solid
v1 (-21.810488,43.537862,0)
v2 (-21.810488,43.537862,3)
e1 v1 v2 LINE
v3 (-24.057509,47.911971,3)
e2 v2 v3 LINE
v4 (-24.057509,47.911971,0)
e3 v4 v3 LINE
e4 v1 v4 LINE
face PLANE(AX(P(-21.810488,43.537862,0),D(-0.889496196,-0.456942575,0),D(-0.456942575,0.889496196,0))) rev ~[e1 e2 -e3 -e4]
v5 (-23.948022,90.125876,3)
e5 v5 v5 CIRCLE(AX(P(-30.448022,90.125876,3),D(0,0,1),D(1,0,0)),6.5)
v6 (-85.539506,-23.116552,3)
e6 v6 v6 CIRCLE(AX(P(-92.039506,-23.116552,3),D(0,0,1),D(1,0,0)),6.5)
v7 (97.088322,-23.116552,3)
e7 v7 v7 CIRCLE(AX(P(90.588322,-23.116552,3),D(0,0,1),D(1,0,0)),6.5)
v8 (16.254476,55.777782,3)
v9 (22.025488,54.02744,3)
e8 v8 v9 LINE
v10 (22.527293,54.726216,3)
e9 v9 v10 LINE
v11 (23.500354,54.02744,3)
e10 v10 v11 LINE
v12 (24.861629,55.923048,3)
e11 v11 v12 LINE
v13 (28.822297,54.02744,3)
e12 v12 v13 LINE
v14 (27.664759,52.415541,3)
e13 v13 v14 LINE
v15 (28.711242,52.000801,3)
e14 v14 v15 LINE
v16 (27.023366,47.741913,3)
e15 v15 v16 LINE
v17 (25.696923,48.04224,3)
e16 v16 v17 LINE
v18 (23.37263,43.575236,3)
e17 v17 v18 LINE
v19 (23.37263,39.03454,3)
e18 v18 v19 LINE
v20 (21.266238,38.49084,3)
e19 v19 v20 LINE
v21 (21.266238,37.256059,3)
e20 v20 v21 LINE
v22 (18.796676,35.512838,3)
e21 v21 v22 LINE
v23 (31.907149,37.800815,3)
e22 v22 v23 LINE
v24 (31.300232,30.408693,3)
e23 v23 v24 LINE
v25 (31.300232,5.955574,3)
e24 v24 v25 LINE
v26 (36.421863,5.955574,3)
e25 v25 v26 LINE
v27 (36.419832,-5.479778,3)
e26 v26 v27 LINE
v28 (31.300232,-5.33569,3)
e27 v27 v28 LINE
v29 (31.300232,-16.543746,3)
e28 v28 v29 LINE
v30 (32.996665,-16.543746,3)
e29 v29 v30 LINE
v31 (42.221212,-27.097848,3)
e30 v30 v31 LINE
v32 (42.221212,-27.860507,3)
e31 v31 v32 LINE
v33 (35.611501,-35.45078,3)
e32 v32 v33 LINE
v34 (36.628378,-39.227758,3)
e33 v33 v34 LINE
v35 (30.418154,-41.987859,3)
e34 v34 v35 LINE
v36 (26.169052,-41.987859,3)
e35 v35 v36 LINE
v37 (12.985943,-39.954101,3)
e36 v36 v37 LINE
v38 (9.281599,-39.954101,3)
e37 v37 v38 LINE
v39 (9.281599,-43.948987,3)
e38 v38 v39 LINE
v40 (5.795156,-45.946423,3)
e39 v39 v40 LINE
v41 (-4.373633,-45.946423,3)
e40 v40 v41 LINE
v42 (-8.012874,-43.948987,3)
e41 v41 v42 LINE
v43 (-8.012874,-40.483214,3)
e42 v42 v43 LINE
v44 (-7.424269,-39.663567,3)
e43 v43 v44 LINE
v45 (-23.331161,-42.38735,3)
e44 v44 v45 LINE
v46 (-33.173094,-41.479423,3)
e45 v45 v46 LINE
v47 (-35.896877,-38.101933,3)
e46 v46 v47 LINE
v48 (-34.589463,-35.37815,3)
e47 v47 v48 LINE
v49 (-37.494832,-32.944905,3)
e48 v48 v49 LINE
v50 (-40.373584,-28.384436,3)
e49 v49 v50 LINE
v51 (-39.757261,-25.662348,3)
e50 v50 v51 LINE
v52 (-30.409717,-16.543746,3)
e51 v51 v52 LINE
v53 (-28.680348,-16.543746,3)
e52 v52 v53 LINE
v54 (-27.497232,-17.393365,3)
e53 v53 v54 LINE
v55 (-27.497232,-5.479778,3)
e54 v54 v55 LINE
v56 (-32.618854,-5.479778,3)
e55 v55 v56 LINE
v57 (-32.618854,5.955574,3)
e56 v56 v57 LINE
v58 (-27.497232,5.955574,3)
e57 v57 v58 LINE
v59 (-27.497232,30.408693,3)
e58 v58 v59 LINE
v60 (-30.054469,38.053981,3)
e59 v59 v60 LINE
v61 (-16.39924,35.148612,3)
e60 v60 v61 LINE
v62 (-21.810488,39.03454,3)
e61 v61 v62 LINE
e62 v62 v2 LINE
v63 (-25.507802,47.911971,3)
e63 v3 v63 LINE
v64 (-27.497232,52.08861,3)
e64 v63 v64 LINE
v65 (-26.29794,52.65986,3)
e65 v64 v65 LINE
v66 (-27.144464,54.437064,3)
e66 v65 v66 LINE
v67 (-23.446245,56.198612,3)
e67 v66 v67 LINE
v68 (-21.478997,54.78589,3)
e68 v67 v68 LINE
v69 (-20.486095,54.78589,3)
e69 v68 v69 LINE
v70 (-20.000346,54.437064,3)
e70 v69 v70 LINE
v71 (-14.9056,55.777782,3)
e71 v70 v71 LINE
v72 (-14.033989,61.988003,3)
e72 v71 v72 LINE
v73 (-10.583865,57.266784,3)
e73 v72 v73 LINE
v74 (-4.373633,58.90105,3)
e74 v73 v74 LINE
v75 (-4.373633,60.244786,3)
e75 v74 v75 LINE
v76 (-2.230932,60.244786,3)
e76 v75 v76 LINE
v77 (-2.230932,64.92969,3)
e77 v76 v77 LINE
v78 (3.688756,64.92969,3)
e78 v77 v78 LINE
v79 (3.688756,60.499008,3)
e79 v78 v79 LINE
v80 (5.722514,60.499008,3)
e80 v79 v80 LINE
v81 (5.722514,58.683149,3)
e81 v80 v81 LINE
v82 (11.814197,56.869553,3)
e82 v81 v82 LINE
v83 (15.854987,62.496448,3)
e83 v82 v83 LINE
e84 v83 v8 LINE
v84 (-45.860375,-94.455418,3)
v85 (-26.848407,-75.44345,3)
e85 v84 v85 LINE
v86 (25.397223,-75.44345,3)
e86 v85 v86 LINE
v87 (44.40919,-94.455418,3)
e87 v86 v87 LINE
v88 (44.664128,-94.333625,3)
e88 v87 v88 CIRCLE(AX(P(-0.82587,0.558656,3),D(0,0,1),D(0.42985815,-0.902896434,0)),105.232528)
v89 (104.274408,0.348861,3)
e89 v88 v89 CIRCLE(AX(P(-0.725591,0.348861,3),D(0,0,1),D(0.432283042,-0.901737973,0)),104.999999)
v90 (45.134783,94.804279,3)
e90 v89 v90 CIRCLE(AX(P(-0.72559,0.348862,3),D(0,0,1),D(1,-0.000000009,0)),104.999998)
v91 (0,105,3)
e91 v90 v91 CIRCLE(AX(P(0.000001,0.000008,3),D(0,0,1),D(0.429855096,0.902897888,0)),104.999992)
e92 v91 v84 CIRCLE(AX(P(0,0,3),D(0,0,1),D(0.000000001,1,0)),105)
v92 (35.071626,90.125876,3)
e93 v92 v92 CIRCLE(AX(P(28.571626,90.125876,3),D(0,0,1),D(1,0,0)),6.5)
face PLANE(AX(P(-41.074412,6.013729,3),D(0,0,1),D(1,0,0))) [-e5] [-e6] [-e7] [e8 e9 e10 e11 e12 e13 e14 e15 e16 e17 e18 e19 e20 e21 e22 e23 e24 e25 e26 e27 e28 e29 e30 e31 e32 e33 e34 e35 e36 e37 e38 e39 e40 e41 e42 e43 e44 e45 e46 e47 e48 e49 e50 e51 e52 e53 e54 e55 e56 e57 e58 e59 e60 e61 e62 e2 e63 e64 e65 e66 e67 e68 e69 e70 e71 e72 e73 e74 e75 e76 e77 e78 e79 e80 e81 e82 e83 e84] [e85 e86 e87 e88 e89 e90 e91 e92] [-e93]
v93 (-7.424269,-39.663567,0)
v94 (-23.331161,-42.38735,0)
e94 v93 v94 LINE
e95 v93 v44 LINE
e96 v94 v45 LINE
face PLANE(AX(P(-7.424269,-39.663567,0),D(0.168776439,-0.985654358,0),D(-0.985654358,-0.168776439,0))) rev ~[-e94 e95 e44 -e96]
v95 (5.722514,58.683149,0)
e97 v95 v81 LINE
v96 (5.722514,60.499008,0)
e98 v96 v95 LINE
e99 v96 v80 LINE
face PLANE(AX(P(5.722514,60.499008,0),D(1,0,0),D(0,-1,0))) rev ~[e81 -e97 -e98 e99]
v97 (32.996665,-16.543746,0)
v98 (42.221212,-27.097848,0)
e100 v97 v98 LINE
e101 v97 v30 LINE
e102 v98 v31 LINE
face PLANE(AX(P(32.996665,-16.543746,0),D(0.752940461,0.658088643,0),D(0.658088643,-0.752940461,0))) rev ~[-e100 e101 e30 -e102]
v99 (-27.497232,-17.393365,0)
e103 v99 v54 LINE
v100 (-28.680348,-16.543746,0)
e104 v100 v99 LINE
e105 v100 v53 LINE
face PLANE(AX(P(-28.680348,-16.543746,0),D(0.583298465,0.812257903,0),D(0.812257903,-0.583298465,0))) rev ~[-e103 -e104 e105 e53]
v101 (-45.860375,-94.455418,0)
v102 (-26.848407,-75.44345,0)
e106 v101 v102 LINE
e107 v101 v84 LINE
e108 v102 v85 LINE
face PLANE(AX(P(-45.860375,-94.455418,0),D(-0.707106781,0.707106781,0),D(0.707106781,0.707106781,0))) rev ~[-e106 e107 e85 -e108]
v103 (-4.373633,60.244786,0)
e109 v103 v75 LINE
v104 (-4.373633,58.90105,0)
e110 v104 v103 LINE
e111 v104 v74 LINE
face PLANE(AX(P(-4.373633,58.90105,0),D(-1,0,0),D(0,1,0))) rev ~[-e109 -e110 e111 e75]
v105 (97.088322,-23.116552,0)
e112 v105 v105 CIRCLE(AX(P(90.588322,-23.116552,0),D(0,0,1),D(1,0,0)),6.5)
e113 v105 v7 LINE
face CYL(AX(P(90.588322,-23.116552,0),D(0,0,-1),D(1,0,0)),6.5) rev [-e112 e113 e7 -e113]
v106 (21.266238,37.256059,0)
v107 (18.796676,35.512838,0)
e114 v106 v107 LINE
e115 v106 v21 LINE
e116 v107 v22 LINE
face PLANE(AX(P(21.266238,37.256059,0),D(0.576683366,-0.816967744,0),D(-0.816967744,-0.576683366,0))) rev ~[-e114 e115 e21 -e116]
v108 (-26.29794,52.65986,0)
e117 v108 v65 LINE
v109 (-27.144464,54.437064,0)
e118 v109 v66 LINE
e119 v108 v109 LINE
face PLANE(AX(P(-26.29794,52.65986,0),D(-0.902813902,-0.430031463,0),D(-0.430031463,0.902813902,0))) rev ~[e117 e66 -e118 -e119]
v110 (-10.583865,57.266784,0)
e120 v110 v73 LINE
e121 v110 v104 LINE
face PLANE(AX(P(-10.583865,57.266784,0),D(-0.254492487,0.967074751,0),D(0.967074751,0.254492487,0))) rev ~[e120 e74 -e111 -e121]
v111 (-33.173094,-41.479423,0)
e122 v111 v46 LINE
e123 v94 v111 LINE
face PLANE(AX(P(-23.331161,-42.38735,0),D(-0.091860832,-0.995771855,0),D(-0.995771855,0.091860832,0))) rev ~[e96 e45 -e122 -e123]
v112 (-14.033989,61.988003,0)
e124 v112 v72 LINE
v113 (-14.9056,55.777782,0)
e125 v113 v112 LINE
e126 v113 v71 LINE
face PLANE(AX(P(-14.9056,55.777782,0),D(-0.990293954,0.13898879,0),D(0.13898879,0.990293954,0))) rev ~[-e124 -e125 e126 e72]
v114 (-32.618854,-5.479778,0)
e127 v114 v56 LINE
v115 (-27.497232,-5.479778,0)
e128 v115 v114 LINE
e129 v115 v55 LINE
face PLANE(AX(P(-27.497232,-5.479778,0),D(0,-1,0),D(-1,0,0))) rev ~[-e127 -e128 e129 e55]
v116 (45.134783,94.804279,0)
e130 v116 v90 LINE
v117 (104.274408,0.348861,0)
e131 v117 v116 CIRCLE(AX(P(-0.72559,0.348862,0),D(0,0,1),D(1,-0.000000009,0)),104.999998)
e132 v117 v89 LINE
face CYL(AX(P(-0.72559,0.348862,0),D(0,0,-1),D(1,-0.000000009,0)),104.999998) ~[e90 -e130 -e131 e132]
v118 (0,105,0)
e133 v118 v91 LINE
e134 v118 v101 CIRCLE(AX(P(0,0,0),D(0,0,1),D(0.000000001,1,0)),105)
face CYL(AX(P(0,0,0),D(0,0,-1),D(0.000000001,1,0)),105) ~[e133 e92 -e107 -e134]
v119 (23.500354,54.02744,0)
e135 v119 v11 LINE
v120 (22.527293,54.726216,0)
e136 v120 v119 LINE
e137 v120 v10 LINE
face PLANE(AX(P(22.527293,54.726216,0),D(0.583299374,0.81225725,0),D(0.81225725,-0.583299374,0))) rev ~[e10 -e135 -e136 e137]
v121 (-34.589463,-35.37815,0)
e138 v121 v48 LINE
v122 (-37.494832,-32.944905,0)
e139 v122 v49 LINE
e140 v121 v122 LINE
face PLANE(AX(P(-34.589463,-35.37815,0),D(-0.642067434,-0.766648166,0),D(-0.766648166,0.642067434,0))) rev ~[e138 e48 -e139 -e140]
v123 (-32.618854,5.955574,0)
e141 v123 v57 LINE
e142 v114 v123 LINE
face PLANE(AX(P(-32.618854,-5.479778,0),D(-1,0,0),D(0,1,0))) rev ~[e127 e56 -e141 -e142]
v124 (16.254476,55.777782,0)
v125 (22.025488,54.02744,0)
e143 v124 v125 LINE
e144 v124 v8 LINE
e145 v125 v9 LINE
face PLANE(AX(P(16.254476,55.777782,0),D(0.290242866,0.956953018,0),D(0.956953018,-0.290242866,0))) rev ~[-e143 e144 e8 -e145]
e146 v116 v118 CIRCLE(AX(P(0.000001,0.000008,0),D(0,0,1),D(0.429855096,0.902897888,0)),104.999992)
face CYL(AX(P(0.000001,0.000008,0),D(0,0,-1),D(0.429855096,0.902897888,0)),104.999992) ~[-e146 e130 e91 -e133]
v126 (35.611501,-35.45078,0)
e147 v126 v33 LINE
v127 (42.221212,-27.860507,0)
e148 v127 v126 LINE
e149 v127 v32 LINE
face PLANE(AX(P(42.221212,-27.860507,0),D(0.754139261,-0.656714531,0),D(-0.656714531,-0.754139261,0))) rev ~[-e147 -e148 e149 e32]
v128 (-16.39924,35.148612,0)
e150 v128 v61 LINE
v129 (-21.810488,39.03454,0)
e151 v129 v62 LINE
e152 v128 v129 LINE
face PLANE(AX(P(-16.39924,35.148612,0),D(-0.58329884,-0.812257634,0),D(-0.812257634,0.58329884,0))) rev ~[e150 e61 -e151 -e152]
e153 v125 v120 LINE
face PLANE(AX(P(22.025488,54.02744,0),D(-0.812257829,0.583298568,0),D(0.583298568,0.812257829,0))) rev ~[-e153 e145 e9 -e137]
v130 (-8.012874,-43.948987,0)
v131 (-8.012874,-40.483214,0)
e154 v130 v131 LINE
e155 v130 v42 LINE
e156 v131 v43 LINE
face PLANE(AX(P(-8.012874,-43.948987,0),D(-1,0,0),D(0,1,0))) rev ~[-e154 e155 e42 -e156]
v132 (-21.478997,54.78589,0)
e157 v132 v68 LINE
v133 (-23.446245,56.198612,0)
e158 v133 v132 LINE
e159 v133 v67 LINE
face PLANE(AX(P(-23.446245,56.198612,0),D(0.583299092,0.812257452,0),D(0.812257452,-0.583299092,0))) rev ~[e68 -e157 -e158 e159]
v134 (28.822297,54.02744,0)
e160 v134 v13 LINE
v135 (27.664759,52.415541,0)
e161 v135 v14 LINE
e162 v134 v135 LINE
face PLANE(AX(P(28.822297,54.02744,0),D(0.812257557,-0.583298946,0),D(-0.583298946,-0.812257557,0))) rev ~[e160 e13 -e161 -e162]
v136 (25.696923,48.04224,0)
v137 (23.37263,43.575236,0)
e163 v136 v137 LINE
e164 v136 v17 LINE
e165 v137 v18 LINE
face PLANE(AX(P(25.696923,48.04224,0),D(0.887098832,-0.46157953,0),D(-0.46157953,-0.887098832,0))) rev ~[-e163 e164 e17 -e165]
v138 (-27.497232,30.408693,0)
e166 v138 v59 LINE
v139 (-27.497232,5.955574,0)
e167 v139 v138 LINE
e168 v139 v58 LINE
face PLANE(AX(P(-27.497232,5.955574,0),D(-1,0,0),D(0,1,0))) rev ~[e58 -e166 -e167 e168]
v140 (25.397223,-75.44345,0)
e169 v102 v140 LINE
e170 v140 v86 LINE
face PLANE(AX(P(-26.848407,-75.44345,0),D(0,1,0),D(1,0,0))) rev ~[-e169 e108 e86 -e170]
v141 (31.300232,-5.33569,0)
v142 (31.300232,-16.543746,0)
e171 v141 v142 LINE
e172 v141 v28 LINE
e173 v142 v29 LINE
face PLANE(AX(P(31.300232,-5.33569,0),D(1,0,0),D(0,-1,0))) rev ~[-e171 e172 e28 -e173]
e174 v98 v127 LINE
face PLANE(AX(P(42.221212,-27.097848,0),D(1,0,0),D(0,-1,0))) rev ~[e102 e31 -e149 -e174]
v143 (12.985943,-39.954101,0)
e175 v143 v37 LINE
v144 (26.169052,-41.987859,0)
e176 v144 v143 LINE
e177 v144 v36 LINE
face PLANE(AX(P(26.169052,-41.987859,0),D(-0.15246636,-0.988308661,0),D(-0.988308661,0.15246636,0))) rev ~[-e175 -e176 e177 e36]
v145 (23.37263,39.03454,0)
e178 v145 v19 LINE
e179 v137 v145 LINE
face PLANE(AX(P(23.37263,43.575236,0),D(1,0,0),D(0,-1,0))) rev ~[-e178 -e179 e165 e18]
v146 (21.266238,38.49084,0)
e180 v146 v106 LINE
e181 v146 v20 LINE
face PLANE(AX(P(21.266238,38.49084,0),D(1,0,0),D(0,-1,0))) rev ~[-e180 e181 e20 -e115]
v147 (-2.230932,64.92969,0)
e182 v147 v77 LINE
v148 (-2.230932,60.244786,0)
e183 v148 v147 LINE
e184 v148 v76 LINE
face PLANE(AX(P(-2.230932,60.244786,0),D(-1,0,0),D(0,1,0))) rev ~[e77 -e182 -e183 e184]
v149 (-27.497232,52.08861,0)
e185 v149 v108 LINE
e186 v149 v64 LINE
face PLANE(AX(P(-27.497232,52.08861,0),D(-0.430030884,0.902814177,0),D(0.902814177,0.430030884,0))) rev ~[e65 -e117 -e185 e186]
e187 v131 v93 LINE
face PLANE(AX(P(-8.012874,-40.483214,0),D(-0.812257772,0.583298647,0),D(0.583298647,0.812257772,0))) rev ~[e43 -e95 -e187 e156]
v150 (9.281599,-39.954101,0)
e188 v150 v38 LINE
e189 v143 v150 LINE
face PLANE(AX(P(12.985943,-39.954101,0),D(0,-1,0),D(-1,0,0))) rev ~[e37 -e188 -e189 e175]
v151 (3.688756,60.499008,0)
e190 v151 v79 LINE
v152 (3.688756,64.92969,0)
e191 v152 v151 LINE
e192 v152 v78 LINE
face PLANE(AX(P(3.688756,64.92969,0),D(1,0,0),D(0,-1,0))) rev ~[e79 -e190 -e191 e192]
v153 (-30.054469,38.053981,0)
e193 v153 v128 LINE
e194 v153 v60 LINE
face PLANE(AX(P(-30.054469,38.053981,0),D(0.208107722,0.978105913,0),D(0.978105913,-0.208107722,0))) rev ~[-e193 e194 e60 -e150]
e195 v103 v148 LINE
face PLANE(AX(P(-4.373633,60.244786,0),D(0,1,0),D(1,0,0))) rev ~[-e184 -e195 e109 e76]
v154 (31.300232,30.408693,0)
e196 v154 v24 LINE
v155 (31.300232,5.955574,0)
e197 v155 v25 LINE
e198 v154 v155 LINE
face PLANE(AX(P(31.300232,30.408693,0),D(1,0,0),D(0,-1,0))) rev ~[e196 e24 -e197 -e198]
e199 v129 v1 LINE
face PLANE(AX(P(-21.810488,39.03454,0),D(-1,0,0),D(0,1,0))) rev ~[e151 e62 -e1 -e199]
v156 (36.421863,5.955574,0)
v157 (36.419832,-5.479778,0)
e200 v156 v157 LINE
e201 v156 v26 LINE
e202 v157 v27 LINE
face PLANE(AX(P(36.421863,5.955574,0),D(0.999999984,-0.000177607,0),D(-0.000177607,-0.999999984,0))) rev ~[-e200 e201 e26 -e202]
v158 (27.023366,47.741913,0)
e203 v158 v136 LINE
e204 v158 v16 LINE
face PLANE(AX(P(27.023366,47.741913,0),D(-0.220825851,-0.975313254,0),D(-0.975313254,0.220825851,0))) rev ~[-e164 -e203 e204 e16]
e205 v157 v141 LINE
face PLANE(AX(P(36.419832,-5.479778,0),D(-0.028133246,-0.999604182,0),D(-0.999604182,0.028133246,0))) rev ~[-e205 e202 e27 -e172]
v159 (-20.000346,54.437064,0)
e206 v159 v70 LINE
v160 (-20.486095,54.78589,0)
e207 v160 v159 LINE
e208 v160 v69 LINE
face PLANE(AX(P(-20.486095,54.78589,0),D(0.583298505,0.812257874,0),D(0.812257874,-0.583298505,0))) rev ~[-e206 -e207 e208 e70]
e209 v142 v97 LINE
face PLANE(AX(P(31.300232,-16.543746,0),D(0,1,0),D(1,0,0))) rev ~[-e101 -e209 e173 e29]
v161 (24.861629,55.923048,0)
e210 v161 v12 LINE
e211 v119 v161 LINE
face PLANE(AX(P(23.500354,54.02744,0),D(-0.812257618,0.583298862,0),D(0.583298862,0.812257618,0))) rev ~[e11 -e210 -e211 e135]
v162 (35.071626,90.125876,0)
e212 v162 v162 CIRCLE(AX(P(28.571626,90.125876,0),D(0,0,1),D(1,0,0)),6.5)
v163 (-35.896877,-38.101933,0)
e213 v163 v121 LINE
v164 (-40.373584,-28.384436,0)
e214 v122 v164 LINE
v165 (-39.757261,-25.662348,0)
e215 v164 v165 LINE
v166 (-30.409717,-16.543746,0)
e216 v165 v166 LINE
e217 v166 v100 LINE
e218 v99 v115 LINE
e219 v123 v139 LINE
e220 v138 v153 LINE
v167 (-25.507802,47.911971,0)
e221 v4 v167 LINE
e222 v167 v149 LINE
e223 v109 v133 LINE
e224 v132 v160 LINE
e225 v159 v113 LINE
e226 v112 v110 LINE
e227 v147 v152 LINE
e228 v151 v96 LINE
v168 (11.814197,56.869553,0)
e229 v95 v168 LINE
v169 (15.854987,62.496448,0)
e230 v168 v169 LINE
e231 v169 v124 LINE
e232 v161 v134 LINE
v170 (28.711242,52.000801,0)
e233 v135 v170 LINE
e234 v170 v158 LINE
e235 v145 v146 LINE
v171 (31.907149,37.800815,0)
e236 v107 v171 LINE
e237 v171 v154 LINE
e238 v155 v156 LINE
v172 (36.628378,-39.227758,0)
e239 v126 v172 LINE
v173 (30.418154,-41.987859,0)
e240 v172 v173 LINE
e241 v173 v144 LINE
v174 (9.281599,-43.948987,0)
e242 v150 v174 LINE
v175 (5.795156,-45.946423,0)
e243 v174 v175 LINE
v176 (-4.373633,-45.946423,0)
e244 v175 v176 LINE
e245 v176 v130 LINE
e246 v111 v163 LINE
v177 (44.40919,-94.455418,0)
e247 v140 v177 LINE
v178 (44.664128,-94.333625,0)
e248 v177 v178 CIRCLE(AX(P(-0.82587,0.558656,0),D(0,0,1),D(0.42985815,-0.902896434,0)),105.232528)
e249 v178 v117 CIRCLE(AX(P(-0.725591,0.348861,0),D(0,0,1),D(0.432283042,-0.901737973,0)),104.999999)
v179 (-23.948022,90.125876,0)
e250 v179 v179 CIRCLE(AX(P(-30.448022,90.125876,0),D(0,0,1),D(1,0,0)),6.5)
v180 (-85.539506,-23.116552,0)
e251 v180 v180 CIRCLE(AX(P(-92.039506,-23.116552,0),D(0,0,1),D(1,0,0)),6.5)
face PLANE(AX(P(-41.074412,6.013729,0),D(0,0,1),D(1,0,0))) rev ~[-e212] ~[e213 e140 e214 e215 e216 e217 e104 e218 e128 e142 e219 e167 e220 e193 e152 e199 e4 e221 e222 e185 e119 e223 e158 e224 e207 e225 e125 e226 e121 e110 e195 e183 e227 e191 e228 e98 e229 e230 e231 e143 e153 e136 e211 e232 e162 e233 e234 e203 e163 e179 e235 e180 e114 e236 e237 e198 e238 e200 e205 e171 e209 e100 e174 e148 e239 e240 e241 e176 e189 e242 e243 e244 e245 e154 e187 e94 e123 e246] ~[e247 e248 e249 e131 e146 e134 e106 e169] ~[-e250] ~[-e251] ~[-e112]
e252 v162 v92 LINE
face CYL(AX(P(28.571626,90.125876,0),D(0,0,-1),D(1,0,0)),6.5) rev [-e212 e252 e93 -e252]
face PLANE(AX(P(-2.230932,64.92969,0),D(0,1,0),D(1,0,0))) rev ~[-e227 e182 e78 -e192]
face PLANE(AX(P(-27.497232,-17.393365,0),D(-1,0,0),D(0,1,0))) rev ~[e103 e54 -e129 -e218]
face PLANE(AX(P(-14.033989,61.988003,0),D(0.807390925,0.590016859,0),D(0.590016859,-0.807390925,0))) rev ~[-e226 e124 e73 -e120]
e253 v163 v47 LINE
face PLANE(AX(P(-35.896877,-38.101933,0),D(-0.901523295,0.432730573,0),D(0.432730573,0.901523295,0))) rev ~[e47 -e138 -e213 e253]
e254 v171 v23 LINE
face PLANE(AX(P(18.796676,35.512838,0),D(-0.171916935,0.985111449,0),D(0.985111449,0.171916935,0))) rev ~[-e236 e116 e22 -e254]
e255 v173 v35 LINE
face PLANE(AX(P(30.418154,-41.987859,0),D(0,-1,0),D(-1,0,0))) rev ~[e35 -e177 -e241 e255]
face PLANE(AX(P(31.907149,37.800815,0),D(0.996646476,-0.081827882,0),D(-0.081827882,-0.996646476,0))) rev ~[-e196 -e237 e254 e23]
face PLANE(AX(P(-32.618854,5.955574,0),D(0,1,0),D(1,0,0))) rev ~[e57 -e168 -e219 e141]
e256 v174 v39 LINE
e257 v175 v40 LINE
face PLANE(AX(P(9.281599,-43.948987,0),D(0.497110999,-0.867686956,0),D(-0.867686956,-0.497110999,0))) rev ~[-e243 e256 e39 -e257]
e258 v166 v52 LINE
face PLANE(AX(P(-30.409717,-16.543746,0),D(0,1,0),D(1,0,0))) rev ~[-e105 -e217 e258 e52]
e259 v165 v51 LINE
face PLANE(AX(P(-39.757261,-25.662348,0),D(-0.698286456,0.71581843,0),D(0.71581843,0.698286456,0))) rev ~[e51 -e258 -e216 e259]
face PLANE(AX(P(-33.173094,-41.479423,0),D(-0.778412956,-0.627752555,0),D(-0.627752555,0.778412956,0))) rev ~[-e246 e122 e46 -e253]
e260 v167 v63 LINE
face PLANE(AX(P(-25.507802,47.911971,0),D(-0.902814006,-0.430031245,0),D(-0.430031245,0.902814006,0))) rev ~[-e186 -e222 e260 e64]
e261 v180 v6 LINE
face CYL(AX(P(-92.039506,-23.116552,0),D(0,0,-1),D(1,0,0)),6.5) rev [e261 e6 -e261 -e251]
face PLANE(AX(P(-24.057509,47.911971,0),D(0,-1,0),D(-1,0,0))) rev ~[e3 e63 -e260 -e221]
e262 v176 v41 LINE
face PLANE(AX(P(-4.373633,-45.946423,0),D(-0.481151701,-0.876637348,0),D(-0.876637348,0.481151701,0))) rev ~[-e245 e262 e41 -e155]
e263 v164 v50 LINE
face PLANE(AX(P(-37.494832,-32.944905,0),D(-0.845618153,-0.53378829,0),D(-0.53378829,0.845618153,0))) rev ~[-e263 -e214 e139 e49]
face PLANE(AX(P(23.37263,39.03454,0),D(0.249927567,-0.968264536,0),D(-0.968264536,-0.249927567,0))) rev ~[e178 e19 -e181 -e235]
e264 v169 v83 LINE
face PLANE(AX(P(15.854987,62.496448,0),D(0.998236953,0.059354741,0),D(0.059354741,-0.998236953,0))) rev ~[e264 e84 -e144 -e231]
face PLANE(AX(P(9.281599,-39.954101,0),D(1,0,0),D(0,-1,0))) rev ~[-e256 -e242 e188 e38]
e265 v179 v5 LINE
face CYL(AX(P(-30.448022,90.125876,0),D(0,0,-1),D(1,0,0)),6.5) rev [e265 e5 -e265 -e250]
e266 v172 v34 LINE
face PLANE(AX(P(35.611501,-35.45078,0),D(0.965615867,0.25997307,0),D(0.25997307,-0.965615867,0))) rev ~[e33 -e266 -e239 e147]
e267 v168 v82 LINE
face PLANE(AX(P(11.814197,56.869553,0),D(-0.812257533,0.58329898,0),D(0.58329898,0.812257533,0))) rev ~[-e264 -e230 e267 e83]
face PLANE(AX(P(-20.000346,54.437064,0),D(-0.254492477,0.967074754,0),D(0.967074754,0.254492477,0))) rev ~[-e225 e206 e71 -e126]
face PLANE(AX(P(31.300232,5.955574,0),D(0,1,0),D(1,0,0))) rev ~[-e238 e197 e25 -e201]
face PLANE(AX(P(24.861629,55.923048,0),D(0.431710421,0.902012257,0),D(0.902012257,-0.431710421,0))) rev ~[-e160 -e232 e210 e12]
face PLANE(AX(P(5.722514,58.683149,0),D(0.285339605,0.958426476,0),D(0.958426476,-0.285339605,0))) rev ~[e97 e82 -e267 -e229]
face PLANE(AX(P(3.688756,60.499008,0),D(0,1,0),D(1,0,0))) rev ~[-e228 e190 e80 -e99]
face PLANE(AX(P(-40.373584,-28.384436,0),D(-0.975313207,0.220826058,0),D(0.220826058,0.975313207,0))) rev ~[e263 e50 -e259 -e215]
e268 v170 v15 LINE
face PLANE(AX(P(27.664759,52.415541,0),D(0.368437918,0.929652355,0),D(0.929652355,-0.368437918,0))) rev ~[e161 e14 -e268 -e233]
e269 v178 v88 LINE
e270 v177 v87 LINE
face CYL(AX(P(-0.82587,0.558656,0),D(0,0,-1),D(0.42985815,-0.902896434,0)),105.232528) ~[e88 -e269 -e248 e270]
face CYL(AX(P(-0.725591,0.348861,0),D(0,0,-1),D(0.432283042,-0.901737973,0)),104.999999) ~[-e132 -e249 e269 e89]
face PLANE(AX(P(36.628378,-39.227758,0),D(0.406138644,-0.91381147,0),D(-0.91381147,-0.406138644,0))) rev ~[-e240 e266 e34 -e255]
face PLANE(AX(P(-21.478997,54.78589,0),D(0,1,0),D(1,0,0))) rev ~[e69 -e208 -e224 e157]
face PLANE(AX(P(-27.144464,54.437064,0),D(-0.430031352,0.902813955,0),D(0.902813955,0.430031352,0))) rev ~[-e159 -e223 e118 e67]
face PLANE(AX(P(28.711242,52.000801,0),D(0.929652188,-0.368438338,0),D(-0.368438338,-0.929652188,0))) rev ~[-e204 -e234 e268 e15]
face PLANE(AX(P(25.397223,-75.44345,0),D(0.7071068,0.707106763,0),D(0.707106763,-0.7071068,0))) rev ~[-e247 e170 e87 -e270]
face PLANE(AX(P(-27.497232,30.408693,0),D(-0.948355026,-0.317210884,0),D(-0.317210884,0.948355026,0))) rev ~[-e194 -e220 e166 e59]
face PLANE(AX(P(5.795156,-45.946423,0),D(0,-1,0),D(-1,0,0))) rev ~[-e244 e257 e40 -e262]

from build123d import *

# Parameters (mm, degrees)
F0_R     = 6.5
F1_DEPTH = 3


with BuildPart() as f1:
    # F0 (on Top) → F1 (new body)
    with BuildSketch(Plane.XY):
        with BuildLine():
            Line((0, 64.92969), (0, 105))
            ThreePointArc((0, 105), (-102.329905, 23.528505), (-45.860375, -94.455418))
            Line((-45.860375, -94.455418), (-26.848407, -75.44345))
            Line((-26.848407, -75.44345), (0, -75.44345))
            Line((0, -75.44345), (0, -45.946423))
            Line((0, -45.946423), (-4.373633, -45.946423))
            Line((-4.373633, -45.946423), (-8.012874, -43.948987))
            Line((-8.012874, -43.948987), (-8.012874, -40.483214))
            Line((-8.012874, -40.483214), (-7.424269, -39.663567))
            Line((-7.424269, -39.663567), (-23.331161, -42.38735))
            Line((-23.331161, -42.38735), (-33.173094, -41.479423))
            Line((-33.173094, -41.479423), (-35.896877, -38.101933))
            Line((-35.896877, -38.101933), (-34.589463, -35.37815))
            Line((-34.589463, -35.37815), (-37.494832, -32.944905))
            Line((-37.494832, -32.944905), (-40.373584, -28.384436))
            Line((-40.373584, -28.384436), (-39.757261, -25.662348))
            Line((-39.757261, -25.662348), (-30.409717, -16.543746))
            Line((-30.409717, -16.543746), (-28.680348, -16.543746))
            Line((-28.680348, -16.543746), (-27.497232, -17.393365))
            Line((-27.497232, -17.393365), (-27.497232, -5.479778))
            Line((-27.497232, -5.479778), (-32.618854, -5.479778))
            Line((-32.618854, -5.479778), (-32.618854, 5.955574))
            Line((-32.618854, 5.955574), (-27.497232, 5.955574))
            Line((-27.497232, 5.955574), (-27.497232, 30.408693))
            Line((-27.497232, 30.408693), (-30.054469, 38.053981))
            Line((-30.054469, 38.053981), (-16.39924, 35.148612))
            Line((-16.39924, 35.148612), (-21.810488, 39.03454))
            Line((-21.810488, 39.03454), (-21.810488, 43.537862))
            Line((-21.810488, 43.537862), (-24.057509, 47.911971))
            Line((-24.057509, 47.911971), (-25.507802, 47.911971))
            Line((-25.507802, 47.911971), (-27.497232, 52.08861))
            Line((-27.497232, 52.08861), (-26.29794, 52.65986))
            Line((-26.29794, 52.65986), (-27.144464, 54.437064))
            Line((-27.144464, 54.437064), (-23.446245, 56.198612))
            Line((-23.446245, 56.198612), (-21.478997, 54.78589))
            Line((-21.478997, 54.78589), (-20.486095, 54.78589))
            Line((-20.486095, 54.78589), (-20.000346, 54.437064))
            Line((-20.000346, 54.437064), (-14.9056, 55.777782))
            Line((-14.9056, 55.777782), (-14.033989, 61.988003))
            Line((-14.033989, 61.988003), (-10.583865, 57.266784))
            Line((-10.583865, 57.266784), (-4.373633, 58.90105))
            Line((-4.373633, 58.90105), (-4.373633, 60.244786))
            Line((-4.373633, 60.244786), (-2.230932, 60.244786))
            Line((-2.230932, 60.244786), (-2.230932, 64.92969))
            Line((-2.230932, 64.92969), (0, 64.92969))
        make_face()
        with Locations((-92.039506, -23.116552)):
            Circle(F0_R, mode=Mode.SUBTRACT)
        with Locations((-30.448022, 90.125876)):
            Circle(F0_R, mode=Mode.SUBTRACT)
        with BuildLine():
            ThreePointArc((45.134783, 94.804279), (23.136018, 102.419357), (0, 105))
            Line((0, 105), (0, 64.92969))
            Line((0, 64.92969), (3.688756, 64.92969))
            Line((3.688756, 64.92969), (3.688756, 60.499008))
            Line((3.688756, 60.499008), (5.722514, 60.499008))
            Line((5.722514, 60.499008), (5.722514, 58.683149))
            Line((5.722514, 58.683149), (11.814197, 56.869553))
            Line((11.814197, 56.869553), (15.854987, 62.496448))
            Line((15.854987, 62.496448), (16.254476, 55.777782))
            Line((16.254476, 55.777782), (22.025488, 54.02744))
            Line((22.025488, 54.02744), (22.527293, 54.726216))
            Line((22.527293, 54.726216), (23.500354, 54.02744))
            Line((23.500354, 54.02744), (24.861629, 55.923048))
            Line((24.861629, 55.923048), (28.822297, 54.02744))
            Line((28.822297, 54.02744), (27.664759, 52.415541))
            Line((27.664759, 52.415541), (28.711242, 52.000801))
            Line((28.711242, 52.000801), (27.023366, 47.741913))
            Line((27.023366, 47.741913), (25.696923, 48.04224))
            Line((25.696923, 48.04224), (23.37263, 43.575236))
            Line((23.37263, 43.575236), (23.37263, 39.03454))
            Line((23.37263, 39.03454), (21.266238, 38.49084))
            Line((21.266238, 38.49084), (21.266238, 37.256059))
            Line((21.266238, 37.256059), (18.796676, 35.512838))
            Line((18.796676, 35.512838), (31.907149, 37.800815))
            Line((31.907149, 37.800815), (31.300232, 30.408693))
            Line((31.300232, 30.408693), (31.300232, 5.955574))
            Line((31.300232, 5.955574), (36.421863, 5.955574))
            Line((36.421863, 5.955574), (36.419832, -5.479778))
            Line((36.419832, -5.479778), (31.300232, -5.33569))
            Line((31.300232, -5.33569), (31.300232, -15.820357))
            Line((31.300232, -15.820357), (31.300232, -16.543746))
            Line((31.300232, -16.543746), (32.996665, -16.543746))
            Line((32.996665, -16.543746), (42.221212, -27.097848))
            Line((42.221212, -27.097848), (42.221212, -27.860507))
            Line((42.221212, -27.860507), (35.611501, -35.45078))
            Line((35.611501, -35.45078), (36.628378, -39.227758))
            Line((36.628378, -39.227758), (30.418154, -41.987859))
            Line((30.418154, -41.987859), (26.169052, -41.987859))
            Line((26.169052, -41.987859), (12.985943, -39.954101))
            Line((12.985943, -39.954101), (9.281599, -39.954101))
            Line((9.281599, -39.954101), (9.281599, -43.948987))
            Line((9.281599, -43.948987), (5.795156, -45.946423))
            Line((5.795156, -45.946423), (0, -45.946423))
            Line((0, -45.946423), (0, -75.44345))
            Line((0, -75.44345), (25.397223, -75.44345))
            Line((25.397223, -75.44345), (44.40919, -94.455418))
            ThreePointArc((44.40919, -94.455418), (44.5367, -94.394607), (44.664128, -94.333625))
            ThreePointArc((44.664128, -94.333625), (88.130811, -55.593427), (104.274408, 0.348861))
            ThreePointArc((104.274408, 0.348861), (88.269743, 56.069866), (45.134783, 94.804279))
        make_face()
        with Locations((90.588322, -23.116552)):
            Circle(F0_R, mode=Mode.SUBTRACT)
        with Locations((28.571626, 90.125876)):
            Circle(F0_R, mode=Mode.SUBTRACT)
    extrude(amount=F1_DEPTH)


solid = f1.part
